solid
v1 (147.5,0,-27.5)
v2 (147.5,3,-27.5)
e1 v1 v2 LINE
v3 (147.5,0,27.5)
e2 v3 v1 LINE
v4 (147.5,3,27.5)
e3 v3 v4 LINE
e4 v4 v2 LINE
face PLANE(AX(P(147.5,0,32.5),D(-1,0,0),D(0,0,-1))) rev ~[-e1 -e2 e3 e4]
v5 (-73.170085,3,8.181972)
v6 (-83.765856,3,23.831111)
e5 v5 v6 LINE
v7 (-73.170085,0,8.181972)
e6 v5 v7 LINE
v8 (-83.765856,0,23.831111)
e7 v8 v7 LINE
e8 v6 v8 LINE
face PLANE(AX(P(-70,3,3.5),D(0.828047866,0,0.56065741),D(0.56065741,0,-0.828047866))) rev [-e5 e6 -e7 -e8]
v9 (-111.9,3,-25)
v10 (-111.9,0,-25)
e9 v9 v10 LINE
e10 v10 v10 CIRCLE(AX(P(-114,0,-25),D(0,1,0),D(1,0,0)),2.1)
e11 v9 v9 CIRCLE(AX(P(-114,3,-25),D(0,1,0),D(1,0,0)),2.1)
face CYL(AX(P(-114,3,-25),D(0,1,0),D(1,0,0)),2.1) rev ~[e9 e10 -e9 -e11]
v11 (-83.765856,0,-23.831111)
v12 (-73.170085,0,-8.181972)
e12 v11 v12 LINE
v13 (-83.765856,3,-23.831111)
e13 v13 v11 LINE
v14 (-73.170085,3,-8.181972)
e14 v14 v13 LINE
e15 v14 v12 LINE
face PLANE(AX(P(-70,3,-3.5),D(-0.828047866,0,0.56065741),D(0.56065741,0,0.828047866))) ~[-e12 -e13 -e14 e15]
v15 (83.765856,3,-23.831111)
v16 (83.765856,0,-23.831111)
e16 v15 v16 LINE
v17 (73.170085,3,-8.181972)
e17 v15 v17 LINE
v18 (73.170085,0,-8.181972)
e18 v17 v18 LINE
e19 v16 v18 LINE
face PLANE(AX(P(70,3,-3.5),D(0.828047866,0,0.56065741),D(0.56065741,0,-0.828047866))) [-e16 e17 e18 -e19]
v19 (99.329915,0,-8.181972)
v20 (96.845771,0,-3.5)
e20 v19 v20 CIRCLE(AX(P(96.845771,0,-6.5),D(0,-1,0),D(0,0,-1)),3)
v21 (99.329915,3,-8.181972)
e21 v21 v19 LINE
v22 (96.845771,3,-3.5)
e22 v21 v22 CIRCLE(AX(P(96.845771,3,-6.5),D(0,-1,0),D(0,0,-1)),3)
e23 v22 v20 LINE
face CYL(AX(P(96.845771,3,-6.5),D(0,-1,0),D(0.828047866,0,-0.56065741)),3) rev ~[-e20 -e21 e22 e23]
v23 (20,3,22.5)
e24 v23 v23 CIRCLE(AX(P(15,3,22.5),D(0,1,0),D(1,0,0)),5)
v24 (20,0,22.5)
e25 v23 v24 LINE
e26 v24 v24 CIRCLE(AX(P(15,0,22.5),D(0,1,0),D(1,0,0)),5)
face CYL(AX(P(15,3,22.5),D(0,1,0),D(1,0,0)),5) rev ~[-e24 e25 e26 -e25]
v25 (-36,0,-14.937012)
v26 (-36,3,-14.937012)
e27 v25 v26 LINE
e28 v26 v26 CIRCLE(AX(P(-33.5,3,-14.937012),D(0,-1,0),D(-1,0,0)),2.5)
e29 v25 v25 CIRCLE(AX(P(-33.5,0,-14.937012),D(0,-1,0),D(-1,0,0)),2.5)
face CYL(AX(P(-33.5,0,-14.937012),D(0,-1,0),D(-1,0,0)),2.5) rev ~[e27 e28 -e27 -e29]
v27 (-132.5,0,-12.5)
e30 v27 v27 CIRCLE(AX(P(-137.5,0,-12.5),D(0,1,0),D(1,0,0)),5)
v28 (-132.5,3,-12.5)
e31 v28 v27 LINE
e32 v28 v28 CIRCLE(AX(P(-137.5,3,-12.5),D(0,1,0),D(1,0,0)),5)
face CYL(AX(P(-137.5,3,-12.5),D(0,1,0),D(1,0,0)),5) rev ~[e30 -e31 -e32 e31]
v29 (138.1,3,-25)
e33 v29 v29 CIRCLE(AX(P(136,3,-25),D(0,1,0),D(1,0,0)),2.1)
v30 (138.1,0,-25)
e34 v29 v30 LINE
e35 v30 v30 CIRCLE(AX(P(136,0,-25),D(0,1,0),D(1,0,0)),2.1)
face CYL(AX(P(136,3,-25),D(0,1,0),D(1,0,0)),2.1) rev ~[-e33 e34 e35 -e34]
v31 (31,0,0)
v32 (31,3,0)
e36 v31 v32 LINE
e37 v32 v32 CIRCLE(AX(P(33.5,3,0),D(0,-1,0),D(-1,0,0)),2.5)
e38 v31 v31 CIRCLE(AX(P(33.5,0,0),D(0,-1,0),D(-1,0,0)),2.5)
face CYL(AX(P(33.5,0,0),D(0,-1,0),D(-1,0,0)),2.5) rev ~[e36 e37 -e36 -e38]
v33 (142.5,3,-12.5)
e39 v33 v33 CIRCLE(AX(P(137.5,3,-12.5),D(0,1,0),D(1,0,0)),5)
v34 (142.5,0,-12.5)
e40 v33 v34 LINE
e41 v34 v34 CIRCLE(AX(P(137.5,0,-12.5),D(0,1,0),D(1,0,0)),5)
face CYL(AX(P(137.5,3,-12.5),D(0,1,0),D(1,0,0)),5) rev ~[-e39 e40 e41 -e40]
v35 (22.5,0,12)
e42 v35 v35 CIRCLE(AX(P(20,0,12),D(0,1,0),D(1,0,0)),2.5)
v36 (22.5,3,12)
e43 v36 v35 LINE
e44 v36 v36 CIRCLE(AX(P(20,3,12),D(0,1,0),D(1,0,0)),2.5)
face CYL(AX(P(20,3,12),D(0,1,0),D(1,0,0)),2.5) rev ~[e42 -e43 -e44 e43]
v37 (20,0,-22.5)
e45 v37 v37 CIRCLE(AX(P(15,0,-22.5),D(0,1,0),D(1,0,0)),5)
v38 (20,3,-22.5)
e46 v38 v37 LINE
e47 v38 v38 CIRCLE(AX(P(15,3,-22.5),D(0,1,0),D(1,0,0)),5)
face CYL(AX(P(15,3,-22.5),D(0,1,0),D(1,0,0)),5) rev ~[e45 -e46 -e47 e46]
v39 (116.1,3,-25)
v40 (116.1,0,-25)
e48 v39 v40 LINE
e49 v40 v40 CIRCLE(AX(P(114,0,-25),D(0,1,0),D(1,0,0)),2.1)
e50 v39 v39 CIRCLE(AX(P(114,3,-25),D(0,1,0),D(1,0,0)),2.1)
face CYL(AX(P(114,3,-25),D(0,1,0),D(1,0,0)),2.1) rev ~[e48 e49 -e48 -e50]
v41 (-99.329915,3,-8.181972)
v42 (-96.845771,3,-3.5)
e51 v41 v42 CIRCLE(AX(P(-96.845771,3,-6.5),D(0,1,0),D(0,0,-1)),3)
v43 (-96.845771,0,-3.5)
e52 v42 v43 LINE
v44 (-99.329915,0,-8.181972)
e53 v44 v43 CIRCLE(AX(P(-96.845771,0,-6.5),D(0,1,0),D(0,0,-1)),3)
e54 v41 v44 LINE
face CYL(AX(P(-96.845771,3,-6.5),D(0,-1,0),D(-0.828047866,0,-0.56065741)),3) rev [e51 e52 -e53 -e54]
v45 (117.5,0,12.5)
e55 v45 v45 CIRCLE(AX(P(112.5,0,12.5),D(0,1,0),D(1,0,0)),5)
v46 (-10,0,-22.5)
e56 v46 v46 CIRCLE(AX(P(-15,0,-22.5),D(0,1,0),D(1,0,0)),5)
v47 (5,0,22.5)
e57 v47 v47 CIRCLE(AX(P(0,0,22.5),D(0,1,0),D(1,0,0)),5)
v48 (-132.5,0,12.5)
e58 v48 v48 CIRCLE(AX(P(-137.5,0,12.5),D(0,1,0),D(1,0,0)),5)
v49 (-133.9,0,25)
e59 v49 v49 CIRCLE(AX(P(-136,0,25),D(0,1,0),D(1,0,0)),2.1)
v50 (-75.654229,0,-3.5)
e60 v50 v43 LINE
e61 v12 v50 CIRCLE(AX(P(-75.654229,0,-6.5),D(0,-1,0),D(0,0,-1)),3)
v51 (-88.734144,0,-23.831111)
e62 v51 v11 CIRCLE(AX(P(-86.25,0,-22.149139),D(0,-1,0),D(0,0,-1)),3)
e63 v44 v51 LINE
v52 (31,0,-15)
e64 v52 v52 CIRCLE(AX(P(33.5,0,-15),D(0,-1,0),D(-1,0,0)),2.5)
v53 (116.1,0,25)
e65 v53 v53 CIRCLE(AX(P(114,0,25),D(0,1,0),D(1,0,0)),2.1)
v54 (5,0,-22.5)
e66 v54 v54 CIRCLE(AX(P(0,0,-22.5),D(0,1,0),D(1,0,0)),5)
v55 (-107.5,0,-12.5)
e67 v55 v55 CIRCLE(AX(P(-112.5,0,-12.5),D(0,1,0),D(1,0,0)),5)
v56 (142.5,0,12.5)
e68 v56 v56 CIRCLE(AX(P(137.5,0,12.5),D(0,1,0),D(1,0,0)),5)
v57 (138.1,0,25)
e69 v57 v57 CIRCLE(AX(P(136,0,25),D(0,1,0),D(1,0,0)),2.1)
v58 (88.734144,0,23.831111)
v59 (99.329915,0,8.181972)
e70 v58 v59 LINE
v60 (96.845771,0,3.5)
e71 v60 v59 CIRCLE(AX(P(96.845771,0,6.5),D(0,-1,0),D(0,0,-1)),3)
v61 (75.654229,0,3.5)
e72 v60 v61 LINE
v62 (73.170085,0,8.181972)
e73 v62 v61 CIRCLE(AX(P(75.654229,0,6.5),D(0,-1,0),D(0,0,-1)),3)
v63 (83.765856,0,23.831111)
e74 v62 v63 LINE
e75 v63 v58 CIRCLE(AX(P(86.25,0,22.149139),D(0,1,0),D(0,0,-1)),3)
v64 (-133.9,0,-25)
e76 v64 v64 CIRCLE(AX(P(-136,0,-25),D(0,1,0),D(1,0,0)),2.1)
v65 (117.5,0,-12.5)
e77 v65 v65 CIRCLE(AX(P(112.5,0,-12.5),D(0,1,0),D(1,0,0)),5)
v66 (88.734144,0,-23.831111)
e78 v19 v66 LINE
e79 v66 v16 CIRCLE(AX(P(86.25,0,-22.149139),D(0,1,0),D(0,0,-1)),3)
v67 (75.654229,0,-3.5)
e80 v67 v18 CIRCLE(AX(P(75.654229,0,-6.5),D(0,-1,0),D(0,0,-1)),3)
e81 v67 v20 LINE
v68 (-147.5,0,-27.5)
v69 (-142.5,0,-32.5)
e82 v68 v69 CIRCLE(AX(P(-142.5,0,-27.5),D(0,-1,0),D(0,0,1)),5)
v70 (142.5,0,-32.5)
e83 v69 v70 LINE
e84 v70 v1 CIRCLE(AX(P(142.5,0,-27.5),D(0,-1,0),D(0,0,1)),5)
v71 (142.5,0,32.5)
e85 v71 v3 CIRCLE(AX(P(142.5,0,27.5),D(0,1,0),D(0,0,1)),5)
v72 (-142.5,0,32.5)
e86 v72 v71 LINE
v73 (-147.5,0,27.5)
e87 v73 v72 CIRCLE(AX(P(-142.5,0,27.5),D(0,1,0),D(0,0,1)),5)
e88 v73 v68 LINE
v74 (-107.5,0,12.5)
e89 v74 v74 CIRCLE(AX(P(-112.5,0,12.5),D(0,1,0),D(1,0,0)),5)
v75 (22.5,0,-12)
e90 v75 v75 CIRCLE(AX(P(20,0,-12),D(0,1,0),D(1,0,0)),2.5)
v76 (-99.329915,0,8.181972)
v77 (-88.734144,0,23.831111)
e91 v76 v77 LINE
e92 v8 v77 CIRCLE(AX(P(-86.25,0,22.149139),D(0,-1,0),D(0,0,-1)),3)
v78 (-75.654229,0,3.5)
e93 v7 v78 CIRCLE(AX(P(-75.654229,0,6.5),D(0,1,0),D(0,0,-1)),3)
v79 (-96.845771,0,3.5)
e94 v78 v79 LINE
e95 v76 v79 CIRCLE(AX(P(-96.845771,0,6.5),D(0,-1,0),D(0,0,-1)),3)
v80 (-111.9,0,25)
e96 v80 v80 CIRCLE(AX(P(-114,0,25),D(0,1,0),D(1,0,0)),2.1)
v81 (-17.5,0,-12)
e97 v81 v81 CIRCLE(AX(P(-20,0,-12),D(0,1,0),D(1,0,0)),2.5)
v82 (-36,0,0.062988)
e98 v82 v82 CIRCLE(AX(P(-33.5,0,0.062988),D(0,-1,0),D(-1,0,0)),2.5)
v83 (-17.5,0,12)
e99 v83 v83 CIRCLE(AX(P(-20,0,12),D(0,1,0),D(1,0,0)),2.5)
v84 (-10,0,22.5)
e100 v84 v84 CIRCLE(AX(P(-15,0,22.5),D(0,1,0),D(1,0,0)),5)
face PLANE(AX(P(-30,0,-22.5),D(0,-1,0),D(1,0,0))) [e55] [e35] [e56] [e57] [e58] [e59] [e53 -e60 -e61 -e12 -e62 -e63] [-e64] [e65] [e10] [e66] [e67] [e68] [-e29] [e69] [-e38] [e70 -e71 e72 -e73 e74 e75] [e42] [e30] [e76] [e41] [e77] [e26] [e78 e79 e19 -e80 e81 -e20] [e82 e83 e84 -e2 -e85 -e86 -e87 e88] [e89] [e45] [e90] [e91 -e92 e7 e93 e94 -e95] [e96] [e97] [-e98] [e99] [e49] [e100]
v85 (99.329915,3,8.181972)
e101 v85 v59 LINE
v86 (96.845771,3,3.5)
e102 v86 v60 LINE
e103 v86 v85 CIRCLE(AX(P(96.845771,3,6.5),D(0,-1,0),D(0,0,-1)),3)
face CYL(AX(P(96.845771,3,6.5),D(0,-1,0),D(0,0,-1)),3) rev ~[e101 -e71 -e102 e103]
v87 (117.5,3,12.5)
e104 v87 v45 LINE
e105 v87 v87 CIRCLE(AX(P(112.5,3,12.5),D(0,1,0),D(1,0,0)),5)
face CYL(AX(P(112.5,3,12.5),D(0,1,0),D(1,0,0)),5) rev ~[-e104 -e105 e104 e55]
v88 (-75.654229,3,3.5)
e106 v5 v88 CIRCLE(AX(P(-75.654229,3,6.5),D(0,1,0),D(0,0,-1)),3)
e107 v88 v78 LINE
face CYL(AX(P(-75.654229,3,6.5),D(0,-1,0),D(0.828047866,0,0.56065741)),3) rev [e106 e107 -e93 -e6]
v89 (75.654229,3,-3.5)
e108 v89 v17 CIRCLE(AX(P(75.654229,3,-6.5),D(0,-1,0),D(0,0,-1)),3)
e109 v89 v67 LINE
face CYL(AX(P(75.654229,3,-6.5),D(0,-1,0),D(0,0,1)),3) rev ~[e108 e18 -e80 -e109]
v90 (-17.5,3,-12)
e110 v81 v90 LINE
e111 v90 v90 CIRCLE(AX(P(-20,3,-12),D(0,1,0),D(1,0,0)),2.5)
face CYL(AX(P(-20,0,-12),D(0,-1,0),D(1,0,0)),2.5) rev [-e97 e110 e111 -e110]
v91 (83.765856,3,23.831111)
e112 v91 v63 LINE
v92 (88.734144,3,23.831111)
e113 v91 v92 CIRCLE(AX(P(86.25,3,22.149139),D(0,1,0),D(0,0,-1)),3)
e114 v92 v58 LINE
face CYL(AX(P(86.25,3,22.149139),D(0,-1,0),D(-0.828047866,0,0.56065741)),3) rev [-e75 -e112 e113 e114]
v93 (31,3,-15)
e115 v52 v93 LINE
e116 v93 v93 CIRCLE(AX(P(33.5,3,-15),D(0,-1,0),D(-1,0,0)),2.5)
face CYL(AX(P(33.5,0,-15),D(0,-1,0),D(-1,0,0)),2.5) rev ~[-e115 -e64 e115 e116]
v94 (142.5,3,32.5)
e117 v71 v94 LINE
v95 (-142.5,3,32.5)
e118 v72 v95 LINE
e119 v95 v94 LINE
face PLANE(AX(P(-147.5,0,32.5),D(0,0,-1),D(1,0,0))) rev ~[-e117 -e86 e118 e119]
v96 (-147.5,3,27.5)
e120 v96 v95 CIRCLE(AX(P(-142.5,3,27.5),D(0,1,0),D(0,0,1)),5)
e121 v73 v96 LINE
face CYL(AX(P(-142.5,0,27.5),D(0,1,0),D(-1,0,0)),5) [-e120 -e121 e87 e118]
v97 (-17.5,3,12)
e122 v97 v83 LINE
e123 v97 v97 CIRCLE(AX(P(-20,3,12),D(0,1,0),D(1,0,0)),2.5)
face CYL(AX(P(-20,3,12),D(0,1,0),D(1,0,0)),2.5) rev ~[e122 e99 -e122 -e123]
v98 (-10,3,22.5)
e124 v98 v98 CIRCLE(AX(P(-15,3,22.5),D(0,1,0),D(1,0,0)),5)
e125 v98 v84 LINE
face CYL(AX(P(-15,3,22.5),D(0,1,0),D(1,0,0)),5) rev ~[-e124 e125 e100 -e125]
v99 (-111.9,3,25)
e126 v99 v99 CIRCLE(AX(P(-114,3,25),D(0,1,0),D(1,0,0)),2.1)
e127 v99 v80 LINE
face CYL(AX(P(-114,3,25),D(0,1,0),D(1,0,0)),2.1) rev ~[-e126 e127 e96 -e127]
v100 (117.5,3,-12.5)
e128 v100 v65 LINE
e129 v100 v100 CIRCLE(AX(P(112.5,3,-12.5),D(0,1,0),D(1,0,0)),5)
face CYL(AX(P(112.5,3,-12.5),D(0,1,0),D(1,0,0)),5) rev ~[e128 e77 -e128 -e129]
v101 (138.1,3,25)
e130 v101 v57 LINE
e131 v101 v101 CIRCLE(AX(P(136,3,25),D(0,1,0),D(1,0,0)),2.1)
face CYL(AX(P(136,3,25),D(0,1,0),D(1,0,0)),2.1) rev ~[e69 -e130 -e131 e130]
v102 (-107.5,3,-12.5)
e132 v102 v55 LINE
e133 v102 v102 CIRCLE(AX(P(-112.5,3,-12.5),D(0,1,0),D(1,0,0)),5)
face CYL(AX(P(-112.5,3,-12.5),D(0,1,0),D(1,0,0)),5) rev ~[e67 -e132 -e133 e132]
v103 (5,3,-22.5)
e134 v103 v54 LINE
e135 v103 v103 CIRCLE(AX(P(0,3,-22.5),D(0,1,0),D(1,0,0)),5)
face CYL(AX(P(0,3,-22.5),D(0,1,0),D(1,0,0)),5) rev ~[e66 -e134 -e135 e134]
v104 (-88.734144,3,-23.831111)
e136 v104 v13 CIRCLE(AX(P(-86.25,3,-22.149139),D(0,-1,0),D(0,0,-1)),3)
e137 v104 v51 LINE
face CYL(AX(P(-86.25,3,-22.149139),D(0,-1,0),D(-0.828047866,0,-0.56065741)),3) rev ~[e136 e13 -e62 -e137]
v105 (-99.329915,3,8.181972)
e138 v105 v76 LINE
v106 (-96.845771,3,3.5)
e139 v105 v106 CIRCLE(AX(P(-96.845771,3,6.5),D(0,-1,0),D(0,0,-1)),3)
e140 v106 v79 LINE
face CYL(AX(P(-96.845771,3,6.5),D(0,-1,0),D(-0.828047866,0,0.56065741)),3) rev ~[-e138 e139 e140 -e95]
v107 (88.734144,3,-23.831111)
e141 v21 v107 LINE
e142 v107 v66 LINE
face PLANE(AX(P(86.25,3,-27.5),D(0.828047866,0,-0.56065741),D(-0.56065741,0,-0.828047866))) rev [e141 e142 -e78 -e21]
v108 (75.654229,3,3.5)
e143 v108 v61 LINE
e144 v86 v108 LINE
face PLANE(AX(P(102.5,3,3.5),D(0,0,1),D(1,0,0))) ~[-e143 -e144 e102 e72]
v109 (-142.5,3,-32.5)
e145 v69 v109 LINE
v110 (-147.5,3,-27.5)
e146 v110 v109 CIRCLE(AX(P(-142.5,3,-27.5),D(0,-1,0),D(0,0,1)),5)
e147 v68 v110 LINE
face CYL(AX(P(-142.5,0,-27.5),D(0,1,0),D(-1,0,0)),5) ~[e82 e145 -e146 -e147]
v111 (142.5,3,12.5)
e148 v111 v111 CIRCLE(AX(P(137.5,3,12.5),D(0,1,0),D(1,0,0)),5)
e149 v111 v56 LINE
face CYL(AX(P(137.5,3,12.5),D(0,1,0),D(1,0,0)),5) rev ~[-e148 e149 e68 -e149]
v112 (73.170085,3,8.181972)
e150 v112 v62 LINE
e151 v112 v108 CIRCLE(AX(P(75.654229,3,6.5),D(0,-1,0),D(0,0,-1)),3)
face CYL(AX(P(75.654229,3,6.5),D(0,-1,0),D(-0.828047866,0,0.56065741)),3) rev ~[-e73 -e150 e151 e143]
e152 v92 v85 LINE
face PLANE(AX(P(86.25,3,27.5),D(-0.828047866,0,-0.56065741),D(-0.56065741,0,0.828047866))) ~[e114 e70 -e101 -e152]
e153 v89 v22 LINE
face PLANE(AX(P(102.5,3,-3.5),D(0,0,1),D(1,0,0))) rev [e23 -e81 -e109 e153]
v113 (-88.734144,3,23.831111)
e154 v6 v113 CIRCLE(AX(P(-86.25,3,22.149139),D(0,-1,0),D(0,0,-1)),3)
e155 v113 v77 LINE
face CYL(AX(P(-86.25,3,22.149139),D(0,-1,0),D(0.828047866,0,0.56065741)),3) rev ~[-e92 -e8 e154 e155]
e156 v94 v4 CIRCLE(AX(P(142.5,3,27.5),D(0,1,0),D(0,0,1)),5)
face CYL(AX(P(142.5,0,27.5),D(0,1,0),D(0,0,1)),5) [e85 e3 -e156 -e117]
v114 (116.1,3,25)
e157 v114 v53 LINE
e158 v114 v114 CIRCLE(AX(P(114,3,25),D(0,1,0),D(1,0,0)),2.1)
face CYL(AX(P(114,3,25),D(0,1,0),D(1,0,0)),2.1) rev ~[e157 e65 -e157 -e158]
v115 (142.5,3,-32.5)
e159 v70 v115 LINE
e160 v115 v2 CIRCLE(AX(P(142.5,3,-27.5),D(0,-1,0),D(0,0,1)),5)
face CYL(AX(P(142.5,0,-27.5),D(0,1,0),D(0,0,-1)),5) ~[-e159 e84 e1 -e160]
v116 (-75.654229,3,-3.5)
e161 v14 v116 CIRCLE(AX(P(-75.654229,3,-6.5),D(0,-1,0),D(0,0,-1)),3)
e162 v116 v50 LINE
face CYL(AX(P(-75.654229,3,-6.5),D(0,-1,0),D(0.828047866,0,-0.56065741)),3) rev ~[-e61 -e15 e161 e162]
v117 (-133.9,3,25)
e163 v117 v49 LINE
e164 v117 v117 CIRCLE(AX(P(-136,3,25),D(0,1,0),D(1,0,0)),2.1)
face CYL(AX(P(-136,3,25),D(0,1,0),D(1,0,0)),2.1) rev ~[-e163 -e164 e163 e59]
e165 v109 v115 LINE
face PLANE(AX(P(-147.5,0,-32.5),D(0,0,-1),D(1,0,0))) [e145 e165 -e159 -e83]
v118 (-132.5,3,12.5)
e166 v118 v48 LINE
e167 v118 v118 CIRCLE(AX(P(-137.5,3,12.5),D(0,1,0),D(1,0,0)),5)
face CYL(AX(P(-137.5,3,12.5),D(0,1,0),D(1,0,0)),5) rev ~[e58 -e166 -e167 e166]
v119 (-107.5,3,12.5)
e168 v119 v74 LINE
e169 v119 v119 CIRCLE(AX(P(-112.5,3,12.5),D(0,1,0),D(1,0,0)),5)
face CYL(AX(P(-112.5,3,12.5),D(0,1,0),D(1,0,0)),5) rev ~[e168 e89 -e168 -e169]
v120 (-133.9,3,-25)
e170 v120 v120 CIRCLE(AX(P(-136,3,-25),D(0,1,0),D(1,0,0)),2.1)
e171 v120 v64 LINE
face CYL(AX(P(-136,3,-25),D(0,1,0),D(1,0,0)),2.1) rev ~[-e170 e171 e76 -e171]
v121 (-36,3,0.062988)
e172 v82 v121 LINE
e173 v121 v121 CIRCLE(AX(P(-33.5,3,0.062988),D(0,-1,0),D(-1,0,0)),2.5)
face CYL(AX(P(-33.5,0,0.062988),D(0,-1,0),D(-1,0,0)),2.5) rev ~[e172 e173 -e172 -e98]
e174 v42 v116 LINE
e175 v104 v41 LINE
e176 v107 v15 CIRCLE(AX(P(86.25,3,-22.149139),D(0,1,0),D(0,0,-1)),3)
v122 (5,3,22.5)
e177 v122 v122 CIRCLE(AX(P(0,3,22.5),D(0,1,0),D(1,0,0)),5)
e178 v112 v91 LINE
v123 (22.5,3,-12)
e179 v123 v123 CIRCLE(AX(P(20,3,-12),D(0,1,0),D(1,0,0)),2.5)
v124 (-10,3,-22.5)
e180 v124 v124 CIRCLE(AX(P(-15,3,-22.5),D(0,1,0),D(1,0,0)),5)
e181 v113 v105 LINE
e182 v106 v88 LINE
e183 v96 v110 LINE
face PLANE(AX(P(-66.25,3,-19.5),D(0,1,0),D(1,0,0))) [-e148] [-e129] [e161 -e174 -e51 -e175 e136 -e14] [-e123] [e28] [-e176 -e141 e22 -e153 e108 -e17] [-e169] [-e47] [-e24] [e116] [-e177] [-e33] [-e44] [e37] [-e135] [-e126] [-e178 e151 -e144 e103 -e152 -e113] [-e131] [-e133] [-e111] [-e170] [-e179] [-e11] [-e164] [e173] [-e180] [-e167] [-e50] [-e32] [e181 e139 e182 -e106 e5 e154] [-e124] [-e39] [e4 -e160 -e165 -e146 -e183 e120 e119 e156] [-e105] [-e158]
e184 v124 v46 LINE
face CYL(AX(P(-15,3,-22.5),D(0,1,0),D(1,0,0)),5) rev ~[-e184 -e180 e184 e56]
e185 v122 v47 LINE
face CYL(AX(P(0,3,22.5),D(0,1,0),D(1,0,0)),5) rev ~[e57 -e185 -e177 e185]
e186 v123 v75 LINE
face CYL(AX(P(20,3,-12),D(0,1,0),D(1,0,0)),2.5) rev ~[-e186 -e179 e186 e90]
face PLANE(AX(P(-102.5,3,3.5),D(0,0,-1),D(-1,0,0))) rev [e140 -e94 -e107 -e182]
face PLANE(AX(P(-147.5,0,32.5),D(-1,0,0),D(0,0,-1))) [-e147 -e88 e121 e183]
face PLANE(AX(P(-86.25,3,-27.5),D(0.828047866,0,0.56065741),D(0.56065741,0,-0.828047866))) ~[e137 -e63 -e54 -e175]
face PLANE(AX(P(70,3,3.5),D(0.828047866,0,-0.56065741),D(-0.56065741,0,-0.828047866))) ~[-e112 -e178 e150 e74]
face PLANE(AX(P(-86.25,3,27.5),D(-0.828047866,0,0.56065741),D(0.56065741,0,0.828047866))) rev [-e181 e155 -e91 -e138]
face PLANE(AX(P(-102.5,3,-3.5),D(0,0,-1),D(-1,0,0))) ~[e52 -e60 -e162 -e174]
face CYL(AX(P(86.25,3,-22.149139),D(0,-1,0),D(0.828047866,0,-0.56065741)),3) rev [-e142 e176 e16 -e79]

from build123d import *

# Parameters (mm, degrees)
SKETCH_1_W             = 295
SKETCH_1_H             = 65
SKETCH_1_R             = 2.5
EXTRUDE_1_DEPTH        = 3
SKETCH_4_R             = 5
CUT_EXTRUDE_2_DEPTH    = 15
SKETCH_6_R             = 2.1
CUT_EXTRUDE_4_DEPTH    = 10
SKETCH_7_R             = 7.5
SKETCH_7_R_2           = 5
CUT_EXTRUDE_5_DEPTH    = 10
FILLET_1_R             = 3
FILLET_2_R             = 5
EXTRUDE_3_DEPTH        = 3
EXTRUDE_4_DEPTH        = 3
SKETCH_10_R            = 7.5
EXTRUDE_5_DEPTH        = 3
SKETCH_12_R            = 2.498260172
SKETCH_12_R_2          = 2.5
EXTRUDE_6_DEPTH        = 3
SKETCH_14_R            = 7.5
EXTRUDE_7_DEPTH        = 3
SKETCH_16_R            = 2.5
CUT_EXTRUDE_9_DEPTH    = 4
FILLET_1_OF_MIRROR_4_R = 3
SKETCH_17_R            = 7.5
EXTRUDE_9_DEPTH        = 3
SKETCH_18_R            = 5
EXTRUDE_10_DEPTH       = 3
SKETCH_19_R            = 2.499999993
SKETCH_19_R_2          = 2.5
CUT_EXTRUDE_10_DEPTH   = 10


with BuildPart() as part:
    # 草图1 → 凸台-拉伸1 (new body)
    with BuildSketch(Plane(origin=(0, 0, 0), x_dir=(1, 0, 0), z_dir=(0, 1, 0))):
        Rectangle(SKETCH_1_W, SKETCH_1_H)
        with Locations((-137.5, 12.5)):
            Circle(SKETCH_1_R, mode=Mode.SUBTRACT)
        with Locations((-112.5, 12.5)):
            Circle(SKETCH_1_R, mode=Mode.SUBTRACT)
        with Locations((-137.5, -12.5)):
            Circle(SKETCH_1_R, mode=Mode.SUBTRACT)
        with Locations((-112.5, -12.5)):
            Circle(SKETCH_1_R, mode=Mode.SUBTRACT)
        with Locations((-20, 12)):
            Circle(SKETCH_1_R, mode=Mode.SUBTRACT)
        with Locations((-20, -12)):
            Circle(SKETCH_1_R, mode=Mode.SUBTRACT)
        with Locations((20, -12)):
            Circle(SKETCH_1_R, mode=Mode.SUBTRACT)
        with Locations((20, 12)):
            Circle(SKETCH_1_R, mode=Mode.SUBTRACT)
        with Locations((112.5, -12.5)):
            Circle(SKETCH_1_R, mode=Mode.SUBTRACT)
        with Locations((137.5, -12.5)):
            Circle(SKETCH_1_R, mode=Mode.SUBTRACT)
        with Locations((112.5, 12.5)):
            Circle(SKETCH_1_R, mode=Mode.SUBTRACT)
        with Locations((137.5, 12.5)):
            Circle(SKETCH_1_R, mode=Mode.SUBTRACT)
    extrude(amount=EXTRUDE_1_DEPTH)

    # 草图4 → 切除-拉伸2 (cut)
    with BuildSketch(Plane(origin=(0, 3, 0), x_dir=(1, 0, 0), z_dir=(0, 1, 0))):
        with Locations((112.5, -12.5)):
            Circle(SKETCH_4_R)
        with Locations((112.5, 12.5)):
            Circle(SKETCH_4_R)
        with Locations((137.5, -12.5)):
            Circle(SKETCH_4_R)
        with Locations((137.5, 12.5)):
            Circle(SKETCH_4_R)
        with Locations((-137.5, 12.5)):
            Circle(SKETCH_4_R)
        with Locations((-137.5, -12.5)):
            Circle(SKETCH_4_R)
        with Locations((-112.5, 12.5)):
            Circle(SKETCH_4_R)
        with Locations((-112.5, -12.5)):
            Circle(SKETCH_4_R)
    extrude(amount=-CUT_EXTRUDE_2_DEPTH, mode=Mode.SUBTRACT)

    # 草图6 → 切除-拉伸4 (cut)
    with BuildSketch(Plane(origin=(0, 3, 0), x_dir=(1, 0, 0), z_dir=(0, 1, 0))):
        with Locations((136, -25)):
            Circle(SKETCH_6_R)
        with Locations((-136, -25)):
            Circle(SKETCH_6_R)
        with Locations((-136, 25)):
            Circle(SKETCH_6_R)
        with Locations((136, 25)):
            Circle(SKETCH_6_R)
        with Locations((114, -25)):
            Circle(SKETCH_6_R)
        with Locations((-114, -25)):
            Circle(SKETCH_6_R)
        with Locations((114, 25)):
            Circle(SKETCH_6_R)
        with Locations((-114, 25)):
            Circle(SKETCH_6_R)
    extrude(amount=-CUT_EXTRUDE_4_DEPTH, mode=Mode.SUBTRACT)

    # 草图7 → 切除-拉伸5 (cut)
    with BuildSketch(Plane(origin=(0, 3, 0), x_dir=(1, 0, 0), z_dir=(0, 1, 0))):
        with Locations((-66.25, 19.5)):
            Circle(SKETCH_7_R)
        with Locations((-66.25, -19.5)):
            Circle(SKETCH_7_R)
        with Locations((66.25, 19.5)):
            Circle(SKETCH_7_R)
        with Locations((66.25, -19.5)):
            Circle(SKETCH_7_R)
        with Locations((-30, 22.5)):
            Circle(SKETCH_7_R_2)
        with Locations((-15, 22.5)):
            Circle(SKETCH_7_R_2)
        with Locations((15, 22.5)):
            Circle(SKETCH_7_R_2)
        with Locations((30, 22.5)):
            Circle(SKETCH_7_R_2)
        with Locations((-30, -22.5)):
            Circle(SKETCH_7_R_2)
        with Locations((-15, -22.5)):
            Circle(SKETCH_7_R_2)
        with Locations((15, -22.5)):
            Circle(SKETCH_7_R_2)
        with Locations((30, -22.5)):
            Circle(SKETCH_7_R_2)
        with Locations((0, 22.5)):
            Circle(SKETCH_7_R_2)
        with Locations((0, -22.5)):
            Circle(SKETCH_7_R_2)
        Polygon((-86.25, 27.5), (-102.5, 3.5), (-70, 3.5), align=None)
        Polygon((-30, 3.5), (-62.5, 3.5), (-46.25, 27.5), align=None)
        Polygon((-102.5, -3.5), (-70, -3.5), (-86.25, -27.5), align=None)
        Polygon((-46.25, -27.5), (-30, -3.5), (-62.5, -3.5), align=None)
        Polygon((46.25, 27.5), (30, 3.5), (62.5, 3.5), align=None)
        Polygon((102.5, 3.5), (70, 3.5), (86.25, 27.5), align=None)
        Polygon((86.25, -27.5), (102.5, -3.5), (70, -3.5), align=None)
        Polygon((62.5, -3.5), (46.25, -27.5), (30, -3.5), align=None)
    cut_extrude_5 = extrude(amount=-CUT_EXTRUDE_5_DEPTH, mode=Mode.SUBTRACT)

    # 圆角1
    fillet_1_edges = [part.edges().sort_by_distance(p)[0] for p in [
        (86.25, 1.5, -27.5),
        (102.5, 1.5, -3.5),
        (70, 1.5, -3.5),
        (86.25, 1.5, 27.5),
        (70, 1.5, 3.5),
        (102.5, 1.5, 3.5),
        (30, 1.5, 3.5),
        (62.5, 1.5, 3.5),
        (46.25, 1.5, 27.5),
        (-46.25, 1.5, -27.5),
        (-30, 1.5, -3.5),
        (-62.5, 1.5, -3.5),
        (-86.25, 1.5, 27.5),
        (-102.5, 1.5, 3.5),
        (-70, 1.5, 3.5),
        (46.25, 1.5, -27.5),
        (62.5, 1.5, -3.5),
        (30, 1.5, -3.5),
        (-46.25, 1.5, 27.5),
        (-62.5, 1.5, 3.5),
        (-30, 1.5, 3.5),
        (-86.25, 1.5, -27.5),
        (-70, 1.5, -3.5),
        (-102.5, 1.5, -3.5),
    ]]
    fillet(fillet_1_edges, radius=FILLET_1_R)

    # 圆角2
    fillet_2_edges = [part.edges().sort_by_distance(p)[0] for p in [
        (147.5, 1.5, 32.5),
        (-147.5, 1.5, 32.5),
        (-147.5, 1.5, -32.5),
        (147.5, 1.5, -32.5),
    ]]
    fillet(fillet_2_edges, radius=FILLET_2_R)

    # 草图8 → 凸台-拉伸3 (add)
    with BuildSketch(Plane.XZ):
        with BuildLine():
            Line((-88.734143599, 23.831110992), (-99.329914637, 8.181972229))
            ThreePointArc((-99.329914637, 8.181972229), (-99.495857516, 5.093926866), (-96.845771038, 3.5))
            Line((-96.845771038, 3.5), (-75.654228962, 3.5))
            ThreePointArc((-75.654228962, 3.5), (-73.004142484, 5.093926866), (-73.170085363, 8.181972229))
            Line((-73.170085363, 8.181972229), (-83.765856401, 23.831110992))
            ThreePointArc((-83.765856401, 23.831110992), (-86.25, 25.149138763), (-88.734143599, 23.831110992))
        make_face()
    extrude(amount=-EXTRUDE_3_DEPTH)

    # 草图9 → 凸台-拉伸4 (add)
    with BuildSketch(Plane.XZ):
        with BuildLine():
            Line((-88.734143599, -23.831110992), (-99.329914637, -8.181972229))
            ThreePointArc((-99.329914637, -8.181972229), (-99.495857516, -5.093926866), (-96.845771038, -3.5))
            Line((-96.845771038, -3.5), (-75.654228962, -3.5))
            ThreePointArc((-75.654228962, -3.5), (-73.004142484, -5.093926866), (-73.170085363, -8.181972229))
            Line((-73.170085363, -8.181972229), (-83.765856401, -23.831110992))
            ThreePointArc((-83.765856401, -23.831110992), (-86.25, -25.149138763), (-88.734143599, -23.831110992))
        make_face()
    extrude(amount=-EXTRUDE_4_DEPTH)

    # 草图10 → 凸台-拉伸5 (add)
    with BuildSketch(Plane.XZ):
        with Locations((-66.25, -19.5)):
            Circle(SKETCH_10_R)
        with Locations((-66.25, 19.5)):
            Circle(SKETCH_10_R)
    extrude(amount=-EXTRUDE_5_DEPTH)

    # 草图12 → 凸台-拉伸6 (add)
    with BuildSketch(Plane.XZ):
        with Locations((-20, -12)):
            Circle(SKETCH_12_R)
        with Locations((-20, 12)):
            Circle(SKETCH_12_R_2)
        with Locations((20, -12)):
            Circle(SKETCH_12_R_2)
        with Locations((20, 12)):
            Circle(SKETCH_12_R_2)
    extrude(amount=-EXTRUDE_6_DEPTH)

    # 草图14 → 凸台-拉伸7 (add)
    with BuildSketch(Plane.XZ):
        with Locations((66.25, -19.5)):
            Circle(SKETCH_14_R)
        with Locations((66.25, 19.5)):
            Circle(SKETCH_14_R)
    extrude(amount=-EXTRUDE_7_DEPTH)

    # 草图16 → 切除-拉伸9 (cut, through all)
    with BuildSketch(Plane(origin=(0, 3, 0), x_dir=(1, 0, 0), z_dir=(0, 1, 0))):
        with Locations((-20, -12)):
            Circle(SKETCH_16_R)
        with Locations((-20, 12)):
            Circle(SKETCH_16_R)
        with Locations((20, -12)):
            Circle(SKETCH_16_R)
        with Locations((20, 12)):
            Circle(SKETCH_16_R)
    extrude(amount=-CUT_EXTRUDE_9_DEPTH, mode=Mode.SUBTRACT)

    # 镜向4: 切除-拉伸5 across plane
    add(cut_extrude_5.mirror(Plane(origin=(0, 0, 0), x_dir=(0, 0, 1), z_dir=(1, 0, 0))), mode=Mode.SUBTRACT)

    # 圆角1 of 镜向4
    fillet_1_of_mirror_4_edges = [part.edges().sort_by_distance(p)[0] for p in [
        (-86.25, 1.5, -27.5),
        (-102.5, 1.5, -3.5),
        (-70, 1.5, -3.5),
        (-86.25, 1.5, 27.5),
        (-70, 1.5, 3.5),
        (-102.5, 1.5, 3.5),
        (-30, 1.5, 3.5),
        (-62.5, 1.5, 3.5),
        (-46.25, 1.5, 27.5),
        (46.25, 1.5, -27.5),
        (30, 1.5, -3.5),
        (62.5, 1.5, -3.5),
        (86.25, 1.5, 27.5),
        (102.5, 1.5, 3.5),
        (70, 1.5, 3.5),
        (-46.25, 1.5, -27.5),
        (-62.5, 1.5, -3.5),
        (-30, 1.5, -3.5),
        (46.25, 1.5, 27.5),
        (62.5, 1.5, 3.5),
        (30, 1.5, 3.5),
        (86.25, 1.5, -27.5),
        (70, 1.5, -3.5),
        (102.5, 1.5, -3.5),
    ]]
    fillet(fillet_1_of_mirror_4_edges, radius=FILLET_1_OF_MIRROR_4_R)

    # 草图17 → 凸台-拉伸9 (add)
    with BuildSketch(Plane(origin=(0, 3, 0), x_dir=(1, 0, 0), z_dir=(0, 1, 0))):
        with Locations((-66.25, 19.5)):
            Circle(SKETCH_17_R)
        with Locations((-66.25, -19.5)):
            Circle(SKETCH_17_R)
        with Locations((66.25, 19.5)):
            Circle(SKETCH_17_R)
        with Locations((66.25, -19.5)):
            Circle(SKETCH_17_R)
        with BuildLine():
            Line((-48.734143599, 23.831110992), (-59.329914637, 8.181972229))
            ThreePointArc((-59.329914637, 8.181972229), (-59.495857516, 5.093926866), (-56.845771038, 3.5))
            Line((-56.845771038, 3.5), (-35.654228962, 3.5))
            ThreePointArc((-35.654228962, 3.5), (-33.004142484, 5.093926866), (-33.170085363, 8.181972229))
            Line((-33.170085363, 8.181972229), (-43.765856401, 23.831110992))
            ThreePointArc((-43.765856401, 23.831110992), (-46.25, 25.149138763), (-48.734143599, 23.831110992))
        make_face()
        with BuildLine():
            Line((-56.845771038, -3.5), (-35.654228962, -3.5))
            ThreePointArc((-35.654228962, -3.5), (-33.004142484, -5.093926866), (-33.170085363, -8.181972229))
            Line((-33.170085363, -8.181972229), (-43.765856401, -23.831110992))
            ThreePointArc((-43.765856401, -23.831110992), (-46.25, -25.149138763), (-48.734143599, -23.831110992))
            Line((-48.734143599, -23.831110992), (-59.329914637, -8.181972229))
            ThreePointArc((-59.329914637, -8.181972229), (-59.495857516, -5.093926866), (-56.845771038, -3.5))
        make_face()
        with BuildLine():
            Line((43.765856401, 23.831110992), (33.170085363, 8.181972229))
            ThreePointArc((33.170085363, 8.181972229), (33.004142484, 5.093926866), (35.654228962, 3.5))
            Line((35.654228962, 3.5), (56.845771038, 3.5))
            ThreePointArc((56.845771038, 3.5), (59.495857516, 5.093926866), (59.329914637, 8.181972229))
            Line((59.329914637, 8.181972229), (48.734143599, 23.831110992))
            ThreePointArc((48.734143599, 23.831110992), (46.25, 25.149138763), (43.765856401, 23.831110992))
        make_face()
        with BuildLine():
            Line((35.654228962, -3.5), (56.845771038, -3.5))
            ThreePointArc((56.845771038, -3.5), (59.495857516, -5.093926866), (59.329914637, -8.181972229))
            Line((59.329914637, -8.181972229), (48.734143599, -23.831110992))
            ThreePointArc((48.734143599, -23.831110992), (46.25, -25.149138763), (43.765856401, -23.831110992))
            Line((43.765856401, -23.831110992), (33.170085363, -8.181972229))
            ThreePointArc((33.170085363, -8.181972229), (33.004142484, -5.093926866), (35.654228962, -3.5))
        make_face()
    extrude(amount=-EXTRUDE_9_DEPTH)

    # 草图18 → 凸台-拉伸10 (add)
    with BuildSketch(Plane.XZ):
        with Locations((-30, -22.5)):
            Circle(SKETCH_18_R)
        with Locations((30, -22.5)):
            Circle(SKETCH_18_R)
        with Locations((30, 22.5)):
            Circle(SKETCH_18_R)
        with Locations((-30, 22.5)):
            Circle(SKETCH_18_R)
    extrude(amount=-EXTRUDE_10_DEPTH)

    # 草图19 → 切除-拉伸10 (cut)
    with BuildSketch(Plane(origin=(0, 0, 0), x_dir=(-1, 0, 0), z_dir=(0, -1, 0))):
        with Locations((-33.500000037, 14.99999998)):
            Circle(SKETCH_19_R)
        with Locations((-33.500000051, 0)):
            Circle(SKETCH_19_R_2)
        with Locations((33.499999962, 14.937012041)):
            Circle(SKETCH_19_R_2)
        with Locations((33.499999962, -0.062987959)):
            Circle(SKETCH_19_R_2)
    extrude(amount=-CUT_EXTRUDE_10_DEPTH, mode=Mode.SUBTRACT)


solid = part.part
